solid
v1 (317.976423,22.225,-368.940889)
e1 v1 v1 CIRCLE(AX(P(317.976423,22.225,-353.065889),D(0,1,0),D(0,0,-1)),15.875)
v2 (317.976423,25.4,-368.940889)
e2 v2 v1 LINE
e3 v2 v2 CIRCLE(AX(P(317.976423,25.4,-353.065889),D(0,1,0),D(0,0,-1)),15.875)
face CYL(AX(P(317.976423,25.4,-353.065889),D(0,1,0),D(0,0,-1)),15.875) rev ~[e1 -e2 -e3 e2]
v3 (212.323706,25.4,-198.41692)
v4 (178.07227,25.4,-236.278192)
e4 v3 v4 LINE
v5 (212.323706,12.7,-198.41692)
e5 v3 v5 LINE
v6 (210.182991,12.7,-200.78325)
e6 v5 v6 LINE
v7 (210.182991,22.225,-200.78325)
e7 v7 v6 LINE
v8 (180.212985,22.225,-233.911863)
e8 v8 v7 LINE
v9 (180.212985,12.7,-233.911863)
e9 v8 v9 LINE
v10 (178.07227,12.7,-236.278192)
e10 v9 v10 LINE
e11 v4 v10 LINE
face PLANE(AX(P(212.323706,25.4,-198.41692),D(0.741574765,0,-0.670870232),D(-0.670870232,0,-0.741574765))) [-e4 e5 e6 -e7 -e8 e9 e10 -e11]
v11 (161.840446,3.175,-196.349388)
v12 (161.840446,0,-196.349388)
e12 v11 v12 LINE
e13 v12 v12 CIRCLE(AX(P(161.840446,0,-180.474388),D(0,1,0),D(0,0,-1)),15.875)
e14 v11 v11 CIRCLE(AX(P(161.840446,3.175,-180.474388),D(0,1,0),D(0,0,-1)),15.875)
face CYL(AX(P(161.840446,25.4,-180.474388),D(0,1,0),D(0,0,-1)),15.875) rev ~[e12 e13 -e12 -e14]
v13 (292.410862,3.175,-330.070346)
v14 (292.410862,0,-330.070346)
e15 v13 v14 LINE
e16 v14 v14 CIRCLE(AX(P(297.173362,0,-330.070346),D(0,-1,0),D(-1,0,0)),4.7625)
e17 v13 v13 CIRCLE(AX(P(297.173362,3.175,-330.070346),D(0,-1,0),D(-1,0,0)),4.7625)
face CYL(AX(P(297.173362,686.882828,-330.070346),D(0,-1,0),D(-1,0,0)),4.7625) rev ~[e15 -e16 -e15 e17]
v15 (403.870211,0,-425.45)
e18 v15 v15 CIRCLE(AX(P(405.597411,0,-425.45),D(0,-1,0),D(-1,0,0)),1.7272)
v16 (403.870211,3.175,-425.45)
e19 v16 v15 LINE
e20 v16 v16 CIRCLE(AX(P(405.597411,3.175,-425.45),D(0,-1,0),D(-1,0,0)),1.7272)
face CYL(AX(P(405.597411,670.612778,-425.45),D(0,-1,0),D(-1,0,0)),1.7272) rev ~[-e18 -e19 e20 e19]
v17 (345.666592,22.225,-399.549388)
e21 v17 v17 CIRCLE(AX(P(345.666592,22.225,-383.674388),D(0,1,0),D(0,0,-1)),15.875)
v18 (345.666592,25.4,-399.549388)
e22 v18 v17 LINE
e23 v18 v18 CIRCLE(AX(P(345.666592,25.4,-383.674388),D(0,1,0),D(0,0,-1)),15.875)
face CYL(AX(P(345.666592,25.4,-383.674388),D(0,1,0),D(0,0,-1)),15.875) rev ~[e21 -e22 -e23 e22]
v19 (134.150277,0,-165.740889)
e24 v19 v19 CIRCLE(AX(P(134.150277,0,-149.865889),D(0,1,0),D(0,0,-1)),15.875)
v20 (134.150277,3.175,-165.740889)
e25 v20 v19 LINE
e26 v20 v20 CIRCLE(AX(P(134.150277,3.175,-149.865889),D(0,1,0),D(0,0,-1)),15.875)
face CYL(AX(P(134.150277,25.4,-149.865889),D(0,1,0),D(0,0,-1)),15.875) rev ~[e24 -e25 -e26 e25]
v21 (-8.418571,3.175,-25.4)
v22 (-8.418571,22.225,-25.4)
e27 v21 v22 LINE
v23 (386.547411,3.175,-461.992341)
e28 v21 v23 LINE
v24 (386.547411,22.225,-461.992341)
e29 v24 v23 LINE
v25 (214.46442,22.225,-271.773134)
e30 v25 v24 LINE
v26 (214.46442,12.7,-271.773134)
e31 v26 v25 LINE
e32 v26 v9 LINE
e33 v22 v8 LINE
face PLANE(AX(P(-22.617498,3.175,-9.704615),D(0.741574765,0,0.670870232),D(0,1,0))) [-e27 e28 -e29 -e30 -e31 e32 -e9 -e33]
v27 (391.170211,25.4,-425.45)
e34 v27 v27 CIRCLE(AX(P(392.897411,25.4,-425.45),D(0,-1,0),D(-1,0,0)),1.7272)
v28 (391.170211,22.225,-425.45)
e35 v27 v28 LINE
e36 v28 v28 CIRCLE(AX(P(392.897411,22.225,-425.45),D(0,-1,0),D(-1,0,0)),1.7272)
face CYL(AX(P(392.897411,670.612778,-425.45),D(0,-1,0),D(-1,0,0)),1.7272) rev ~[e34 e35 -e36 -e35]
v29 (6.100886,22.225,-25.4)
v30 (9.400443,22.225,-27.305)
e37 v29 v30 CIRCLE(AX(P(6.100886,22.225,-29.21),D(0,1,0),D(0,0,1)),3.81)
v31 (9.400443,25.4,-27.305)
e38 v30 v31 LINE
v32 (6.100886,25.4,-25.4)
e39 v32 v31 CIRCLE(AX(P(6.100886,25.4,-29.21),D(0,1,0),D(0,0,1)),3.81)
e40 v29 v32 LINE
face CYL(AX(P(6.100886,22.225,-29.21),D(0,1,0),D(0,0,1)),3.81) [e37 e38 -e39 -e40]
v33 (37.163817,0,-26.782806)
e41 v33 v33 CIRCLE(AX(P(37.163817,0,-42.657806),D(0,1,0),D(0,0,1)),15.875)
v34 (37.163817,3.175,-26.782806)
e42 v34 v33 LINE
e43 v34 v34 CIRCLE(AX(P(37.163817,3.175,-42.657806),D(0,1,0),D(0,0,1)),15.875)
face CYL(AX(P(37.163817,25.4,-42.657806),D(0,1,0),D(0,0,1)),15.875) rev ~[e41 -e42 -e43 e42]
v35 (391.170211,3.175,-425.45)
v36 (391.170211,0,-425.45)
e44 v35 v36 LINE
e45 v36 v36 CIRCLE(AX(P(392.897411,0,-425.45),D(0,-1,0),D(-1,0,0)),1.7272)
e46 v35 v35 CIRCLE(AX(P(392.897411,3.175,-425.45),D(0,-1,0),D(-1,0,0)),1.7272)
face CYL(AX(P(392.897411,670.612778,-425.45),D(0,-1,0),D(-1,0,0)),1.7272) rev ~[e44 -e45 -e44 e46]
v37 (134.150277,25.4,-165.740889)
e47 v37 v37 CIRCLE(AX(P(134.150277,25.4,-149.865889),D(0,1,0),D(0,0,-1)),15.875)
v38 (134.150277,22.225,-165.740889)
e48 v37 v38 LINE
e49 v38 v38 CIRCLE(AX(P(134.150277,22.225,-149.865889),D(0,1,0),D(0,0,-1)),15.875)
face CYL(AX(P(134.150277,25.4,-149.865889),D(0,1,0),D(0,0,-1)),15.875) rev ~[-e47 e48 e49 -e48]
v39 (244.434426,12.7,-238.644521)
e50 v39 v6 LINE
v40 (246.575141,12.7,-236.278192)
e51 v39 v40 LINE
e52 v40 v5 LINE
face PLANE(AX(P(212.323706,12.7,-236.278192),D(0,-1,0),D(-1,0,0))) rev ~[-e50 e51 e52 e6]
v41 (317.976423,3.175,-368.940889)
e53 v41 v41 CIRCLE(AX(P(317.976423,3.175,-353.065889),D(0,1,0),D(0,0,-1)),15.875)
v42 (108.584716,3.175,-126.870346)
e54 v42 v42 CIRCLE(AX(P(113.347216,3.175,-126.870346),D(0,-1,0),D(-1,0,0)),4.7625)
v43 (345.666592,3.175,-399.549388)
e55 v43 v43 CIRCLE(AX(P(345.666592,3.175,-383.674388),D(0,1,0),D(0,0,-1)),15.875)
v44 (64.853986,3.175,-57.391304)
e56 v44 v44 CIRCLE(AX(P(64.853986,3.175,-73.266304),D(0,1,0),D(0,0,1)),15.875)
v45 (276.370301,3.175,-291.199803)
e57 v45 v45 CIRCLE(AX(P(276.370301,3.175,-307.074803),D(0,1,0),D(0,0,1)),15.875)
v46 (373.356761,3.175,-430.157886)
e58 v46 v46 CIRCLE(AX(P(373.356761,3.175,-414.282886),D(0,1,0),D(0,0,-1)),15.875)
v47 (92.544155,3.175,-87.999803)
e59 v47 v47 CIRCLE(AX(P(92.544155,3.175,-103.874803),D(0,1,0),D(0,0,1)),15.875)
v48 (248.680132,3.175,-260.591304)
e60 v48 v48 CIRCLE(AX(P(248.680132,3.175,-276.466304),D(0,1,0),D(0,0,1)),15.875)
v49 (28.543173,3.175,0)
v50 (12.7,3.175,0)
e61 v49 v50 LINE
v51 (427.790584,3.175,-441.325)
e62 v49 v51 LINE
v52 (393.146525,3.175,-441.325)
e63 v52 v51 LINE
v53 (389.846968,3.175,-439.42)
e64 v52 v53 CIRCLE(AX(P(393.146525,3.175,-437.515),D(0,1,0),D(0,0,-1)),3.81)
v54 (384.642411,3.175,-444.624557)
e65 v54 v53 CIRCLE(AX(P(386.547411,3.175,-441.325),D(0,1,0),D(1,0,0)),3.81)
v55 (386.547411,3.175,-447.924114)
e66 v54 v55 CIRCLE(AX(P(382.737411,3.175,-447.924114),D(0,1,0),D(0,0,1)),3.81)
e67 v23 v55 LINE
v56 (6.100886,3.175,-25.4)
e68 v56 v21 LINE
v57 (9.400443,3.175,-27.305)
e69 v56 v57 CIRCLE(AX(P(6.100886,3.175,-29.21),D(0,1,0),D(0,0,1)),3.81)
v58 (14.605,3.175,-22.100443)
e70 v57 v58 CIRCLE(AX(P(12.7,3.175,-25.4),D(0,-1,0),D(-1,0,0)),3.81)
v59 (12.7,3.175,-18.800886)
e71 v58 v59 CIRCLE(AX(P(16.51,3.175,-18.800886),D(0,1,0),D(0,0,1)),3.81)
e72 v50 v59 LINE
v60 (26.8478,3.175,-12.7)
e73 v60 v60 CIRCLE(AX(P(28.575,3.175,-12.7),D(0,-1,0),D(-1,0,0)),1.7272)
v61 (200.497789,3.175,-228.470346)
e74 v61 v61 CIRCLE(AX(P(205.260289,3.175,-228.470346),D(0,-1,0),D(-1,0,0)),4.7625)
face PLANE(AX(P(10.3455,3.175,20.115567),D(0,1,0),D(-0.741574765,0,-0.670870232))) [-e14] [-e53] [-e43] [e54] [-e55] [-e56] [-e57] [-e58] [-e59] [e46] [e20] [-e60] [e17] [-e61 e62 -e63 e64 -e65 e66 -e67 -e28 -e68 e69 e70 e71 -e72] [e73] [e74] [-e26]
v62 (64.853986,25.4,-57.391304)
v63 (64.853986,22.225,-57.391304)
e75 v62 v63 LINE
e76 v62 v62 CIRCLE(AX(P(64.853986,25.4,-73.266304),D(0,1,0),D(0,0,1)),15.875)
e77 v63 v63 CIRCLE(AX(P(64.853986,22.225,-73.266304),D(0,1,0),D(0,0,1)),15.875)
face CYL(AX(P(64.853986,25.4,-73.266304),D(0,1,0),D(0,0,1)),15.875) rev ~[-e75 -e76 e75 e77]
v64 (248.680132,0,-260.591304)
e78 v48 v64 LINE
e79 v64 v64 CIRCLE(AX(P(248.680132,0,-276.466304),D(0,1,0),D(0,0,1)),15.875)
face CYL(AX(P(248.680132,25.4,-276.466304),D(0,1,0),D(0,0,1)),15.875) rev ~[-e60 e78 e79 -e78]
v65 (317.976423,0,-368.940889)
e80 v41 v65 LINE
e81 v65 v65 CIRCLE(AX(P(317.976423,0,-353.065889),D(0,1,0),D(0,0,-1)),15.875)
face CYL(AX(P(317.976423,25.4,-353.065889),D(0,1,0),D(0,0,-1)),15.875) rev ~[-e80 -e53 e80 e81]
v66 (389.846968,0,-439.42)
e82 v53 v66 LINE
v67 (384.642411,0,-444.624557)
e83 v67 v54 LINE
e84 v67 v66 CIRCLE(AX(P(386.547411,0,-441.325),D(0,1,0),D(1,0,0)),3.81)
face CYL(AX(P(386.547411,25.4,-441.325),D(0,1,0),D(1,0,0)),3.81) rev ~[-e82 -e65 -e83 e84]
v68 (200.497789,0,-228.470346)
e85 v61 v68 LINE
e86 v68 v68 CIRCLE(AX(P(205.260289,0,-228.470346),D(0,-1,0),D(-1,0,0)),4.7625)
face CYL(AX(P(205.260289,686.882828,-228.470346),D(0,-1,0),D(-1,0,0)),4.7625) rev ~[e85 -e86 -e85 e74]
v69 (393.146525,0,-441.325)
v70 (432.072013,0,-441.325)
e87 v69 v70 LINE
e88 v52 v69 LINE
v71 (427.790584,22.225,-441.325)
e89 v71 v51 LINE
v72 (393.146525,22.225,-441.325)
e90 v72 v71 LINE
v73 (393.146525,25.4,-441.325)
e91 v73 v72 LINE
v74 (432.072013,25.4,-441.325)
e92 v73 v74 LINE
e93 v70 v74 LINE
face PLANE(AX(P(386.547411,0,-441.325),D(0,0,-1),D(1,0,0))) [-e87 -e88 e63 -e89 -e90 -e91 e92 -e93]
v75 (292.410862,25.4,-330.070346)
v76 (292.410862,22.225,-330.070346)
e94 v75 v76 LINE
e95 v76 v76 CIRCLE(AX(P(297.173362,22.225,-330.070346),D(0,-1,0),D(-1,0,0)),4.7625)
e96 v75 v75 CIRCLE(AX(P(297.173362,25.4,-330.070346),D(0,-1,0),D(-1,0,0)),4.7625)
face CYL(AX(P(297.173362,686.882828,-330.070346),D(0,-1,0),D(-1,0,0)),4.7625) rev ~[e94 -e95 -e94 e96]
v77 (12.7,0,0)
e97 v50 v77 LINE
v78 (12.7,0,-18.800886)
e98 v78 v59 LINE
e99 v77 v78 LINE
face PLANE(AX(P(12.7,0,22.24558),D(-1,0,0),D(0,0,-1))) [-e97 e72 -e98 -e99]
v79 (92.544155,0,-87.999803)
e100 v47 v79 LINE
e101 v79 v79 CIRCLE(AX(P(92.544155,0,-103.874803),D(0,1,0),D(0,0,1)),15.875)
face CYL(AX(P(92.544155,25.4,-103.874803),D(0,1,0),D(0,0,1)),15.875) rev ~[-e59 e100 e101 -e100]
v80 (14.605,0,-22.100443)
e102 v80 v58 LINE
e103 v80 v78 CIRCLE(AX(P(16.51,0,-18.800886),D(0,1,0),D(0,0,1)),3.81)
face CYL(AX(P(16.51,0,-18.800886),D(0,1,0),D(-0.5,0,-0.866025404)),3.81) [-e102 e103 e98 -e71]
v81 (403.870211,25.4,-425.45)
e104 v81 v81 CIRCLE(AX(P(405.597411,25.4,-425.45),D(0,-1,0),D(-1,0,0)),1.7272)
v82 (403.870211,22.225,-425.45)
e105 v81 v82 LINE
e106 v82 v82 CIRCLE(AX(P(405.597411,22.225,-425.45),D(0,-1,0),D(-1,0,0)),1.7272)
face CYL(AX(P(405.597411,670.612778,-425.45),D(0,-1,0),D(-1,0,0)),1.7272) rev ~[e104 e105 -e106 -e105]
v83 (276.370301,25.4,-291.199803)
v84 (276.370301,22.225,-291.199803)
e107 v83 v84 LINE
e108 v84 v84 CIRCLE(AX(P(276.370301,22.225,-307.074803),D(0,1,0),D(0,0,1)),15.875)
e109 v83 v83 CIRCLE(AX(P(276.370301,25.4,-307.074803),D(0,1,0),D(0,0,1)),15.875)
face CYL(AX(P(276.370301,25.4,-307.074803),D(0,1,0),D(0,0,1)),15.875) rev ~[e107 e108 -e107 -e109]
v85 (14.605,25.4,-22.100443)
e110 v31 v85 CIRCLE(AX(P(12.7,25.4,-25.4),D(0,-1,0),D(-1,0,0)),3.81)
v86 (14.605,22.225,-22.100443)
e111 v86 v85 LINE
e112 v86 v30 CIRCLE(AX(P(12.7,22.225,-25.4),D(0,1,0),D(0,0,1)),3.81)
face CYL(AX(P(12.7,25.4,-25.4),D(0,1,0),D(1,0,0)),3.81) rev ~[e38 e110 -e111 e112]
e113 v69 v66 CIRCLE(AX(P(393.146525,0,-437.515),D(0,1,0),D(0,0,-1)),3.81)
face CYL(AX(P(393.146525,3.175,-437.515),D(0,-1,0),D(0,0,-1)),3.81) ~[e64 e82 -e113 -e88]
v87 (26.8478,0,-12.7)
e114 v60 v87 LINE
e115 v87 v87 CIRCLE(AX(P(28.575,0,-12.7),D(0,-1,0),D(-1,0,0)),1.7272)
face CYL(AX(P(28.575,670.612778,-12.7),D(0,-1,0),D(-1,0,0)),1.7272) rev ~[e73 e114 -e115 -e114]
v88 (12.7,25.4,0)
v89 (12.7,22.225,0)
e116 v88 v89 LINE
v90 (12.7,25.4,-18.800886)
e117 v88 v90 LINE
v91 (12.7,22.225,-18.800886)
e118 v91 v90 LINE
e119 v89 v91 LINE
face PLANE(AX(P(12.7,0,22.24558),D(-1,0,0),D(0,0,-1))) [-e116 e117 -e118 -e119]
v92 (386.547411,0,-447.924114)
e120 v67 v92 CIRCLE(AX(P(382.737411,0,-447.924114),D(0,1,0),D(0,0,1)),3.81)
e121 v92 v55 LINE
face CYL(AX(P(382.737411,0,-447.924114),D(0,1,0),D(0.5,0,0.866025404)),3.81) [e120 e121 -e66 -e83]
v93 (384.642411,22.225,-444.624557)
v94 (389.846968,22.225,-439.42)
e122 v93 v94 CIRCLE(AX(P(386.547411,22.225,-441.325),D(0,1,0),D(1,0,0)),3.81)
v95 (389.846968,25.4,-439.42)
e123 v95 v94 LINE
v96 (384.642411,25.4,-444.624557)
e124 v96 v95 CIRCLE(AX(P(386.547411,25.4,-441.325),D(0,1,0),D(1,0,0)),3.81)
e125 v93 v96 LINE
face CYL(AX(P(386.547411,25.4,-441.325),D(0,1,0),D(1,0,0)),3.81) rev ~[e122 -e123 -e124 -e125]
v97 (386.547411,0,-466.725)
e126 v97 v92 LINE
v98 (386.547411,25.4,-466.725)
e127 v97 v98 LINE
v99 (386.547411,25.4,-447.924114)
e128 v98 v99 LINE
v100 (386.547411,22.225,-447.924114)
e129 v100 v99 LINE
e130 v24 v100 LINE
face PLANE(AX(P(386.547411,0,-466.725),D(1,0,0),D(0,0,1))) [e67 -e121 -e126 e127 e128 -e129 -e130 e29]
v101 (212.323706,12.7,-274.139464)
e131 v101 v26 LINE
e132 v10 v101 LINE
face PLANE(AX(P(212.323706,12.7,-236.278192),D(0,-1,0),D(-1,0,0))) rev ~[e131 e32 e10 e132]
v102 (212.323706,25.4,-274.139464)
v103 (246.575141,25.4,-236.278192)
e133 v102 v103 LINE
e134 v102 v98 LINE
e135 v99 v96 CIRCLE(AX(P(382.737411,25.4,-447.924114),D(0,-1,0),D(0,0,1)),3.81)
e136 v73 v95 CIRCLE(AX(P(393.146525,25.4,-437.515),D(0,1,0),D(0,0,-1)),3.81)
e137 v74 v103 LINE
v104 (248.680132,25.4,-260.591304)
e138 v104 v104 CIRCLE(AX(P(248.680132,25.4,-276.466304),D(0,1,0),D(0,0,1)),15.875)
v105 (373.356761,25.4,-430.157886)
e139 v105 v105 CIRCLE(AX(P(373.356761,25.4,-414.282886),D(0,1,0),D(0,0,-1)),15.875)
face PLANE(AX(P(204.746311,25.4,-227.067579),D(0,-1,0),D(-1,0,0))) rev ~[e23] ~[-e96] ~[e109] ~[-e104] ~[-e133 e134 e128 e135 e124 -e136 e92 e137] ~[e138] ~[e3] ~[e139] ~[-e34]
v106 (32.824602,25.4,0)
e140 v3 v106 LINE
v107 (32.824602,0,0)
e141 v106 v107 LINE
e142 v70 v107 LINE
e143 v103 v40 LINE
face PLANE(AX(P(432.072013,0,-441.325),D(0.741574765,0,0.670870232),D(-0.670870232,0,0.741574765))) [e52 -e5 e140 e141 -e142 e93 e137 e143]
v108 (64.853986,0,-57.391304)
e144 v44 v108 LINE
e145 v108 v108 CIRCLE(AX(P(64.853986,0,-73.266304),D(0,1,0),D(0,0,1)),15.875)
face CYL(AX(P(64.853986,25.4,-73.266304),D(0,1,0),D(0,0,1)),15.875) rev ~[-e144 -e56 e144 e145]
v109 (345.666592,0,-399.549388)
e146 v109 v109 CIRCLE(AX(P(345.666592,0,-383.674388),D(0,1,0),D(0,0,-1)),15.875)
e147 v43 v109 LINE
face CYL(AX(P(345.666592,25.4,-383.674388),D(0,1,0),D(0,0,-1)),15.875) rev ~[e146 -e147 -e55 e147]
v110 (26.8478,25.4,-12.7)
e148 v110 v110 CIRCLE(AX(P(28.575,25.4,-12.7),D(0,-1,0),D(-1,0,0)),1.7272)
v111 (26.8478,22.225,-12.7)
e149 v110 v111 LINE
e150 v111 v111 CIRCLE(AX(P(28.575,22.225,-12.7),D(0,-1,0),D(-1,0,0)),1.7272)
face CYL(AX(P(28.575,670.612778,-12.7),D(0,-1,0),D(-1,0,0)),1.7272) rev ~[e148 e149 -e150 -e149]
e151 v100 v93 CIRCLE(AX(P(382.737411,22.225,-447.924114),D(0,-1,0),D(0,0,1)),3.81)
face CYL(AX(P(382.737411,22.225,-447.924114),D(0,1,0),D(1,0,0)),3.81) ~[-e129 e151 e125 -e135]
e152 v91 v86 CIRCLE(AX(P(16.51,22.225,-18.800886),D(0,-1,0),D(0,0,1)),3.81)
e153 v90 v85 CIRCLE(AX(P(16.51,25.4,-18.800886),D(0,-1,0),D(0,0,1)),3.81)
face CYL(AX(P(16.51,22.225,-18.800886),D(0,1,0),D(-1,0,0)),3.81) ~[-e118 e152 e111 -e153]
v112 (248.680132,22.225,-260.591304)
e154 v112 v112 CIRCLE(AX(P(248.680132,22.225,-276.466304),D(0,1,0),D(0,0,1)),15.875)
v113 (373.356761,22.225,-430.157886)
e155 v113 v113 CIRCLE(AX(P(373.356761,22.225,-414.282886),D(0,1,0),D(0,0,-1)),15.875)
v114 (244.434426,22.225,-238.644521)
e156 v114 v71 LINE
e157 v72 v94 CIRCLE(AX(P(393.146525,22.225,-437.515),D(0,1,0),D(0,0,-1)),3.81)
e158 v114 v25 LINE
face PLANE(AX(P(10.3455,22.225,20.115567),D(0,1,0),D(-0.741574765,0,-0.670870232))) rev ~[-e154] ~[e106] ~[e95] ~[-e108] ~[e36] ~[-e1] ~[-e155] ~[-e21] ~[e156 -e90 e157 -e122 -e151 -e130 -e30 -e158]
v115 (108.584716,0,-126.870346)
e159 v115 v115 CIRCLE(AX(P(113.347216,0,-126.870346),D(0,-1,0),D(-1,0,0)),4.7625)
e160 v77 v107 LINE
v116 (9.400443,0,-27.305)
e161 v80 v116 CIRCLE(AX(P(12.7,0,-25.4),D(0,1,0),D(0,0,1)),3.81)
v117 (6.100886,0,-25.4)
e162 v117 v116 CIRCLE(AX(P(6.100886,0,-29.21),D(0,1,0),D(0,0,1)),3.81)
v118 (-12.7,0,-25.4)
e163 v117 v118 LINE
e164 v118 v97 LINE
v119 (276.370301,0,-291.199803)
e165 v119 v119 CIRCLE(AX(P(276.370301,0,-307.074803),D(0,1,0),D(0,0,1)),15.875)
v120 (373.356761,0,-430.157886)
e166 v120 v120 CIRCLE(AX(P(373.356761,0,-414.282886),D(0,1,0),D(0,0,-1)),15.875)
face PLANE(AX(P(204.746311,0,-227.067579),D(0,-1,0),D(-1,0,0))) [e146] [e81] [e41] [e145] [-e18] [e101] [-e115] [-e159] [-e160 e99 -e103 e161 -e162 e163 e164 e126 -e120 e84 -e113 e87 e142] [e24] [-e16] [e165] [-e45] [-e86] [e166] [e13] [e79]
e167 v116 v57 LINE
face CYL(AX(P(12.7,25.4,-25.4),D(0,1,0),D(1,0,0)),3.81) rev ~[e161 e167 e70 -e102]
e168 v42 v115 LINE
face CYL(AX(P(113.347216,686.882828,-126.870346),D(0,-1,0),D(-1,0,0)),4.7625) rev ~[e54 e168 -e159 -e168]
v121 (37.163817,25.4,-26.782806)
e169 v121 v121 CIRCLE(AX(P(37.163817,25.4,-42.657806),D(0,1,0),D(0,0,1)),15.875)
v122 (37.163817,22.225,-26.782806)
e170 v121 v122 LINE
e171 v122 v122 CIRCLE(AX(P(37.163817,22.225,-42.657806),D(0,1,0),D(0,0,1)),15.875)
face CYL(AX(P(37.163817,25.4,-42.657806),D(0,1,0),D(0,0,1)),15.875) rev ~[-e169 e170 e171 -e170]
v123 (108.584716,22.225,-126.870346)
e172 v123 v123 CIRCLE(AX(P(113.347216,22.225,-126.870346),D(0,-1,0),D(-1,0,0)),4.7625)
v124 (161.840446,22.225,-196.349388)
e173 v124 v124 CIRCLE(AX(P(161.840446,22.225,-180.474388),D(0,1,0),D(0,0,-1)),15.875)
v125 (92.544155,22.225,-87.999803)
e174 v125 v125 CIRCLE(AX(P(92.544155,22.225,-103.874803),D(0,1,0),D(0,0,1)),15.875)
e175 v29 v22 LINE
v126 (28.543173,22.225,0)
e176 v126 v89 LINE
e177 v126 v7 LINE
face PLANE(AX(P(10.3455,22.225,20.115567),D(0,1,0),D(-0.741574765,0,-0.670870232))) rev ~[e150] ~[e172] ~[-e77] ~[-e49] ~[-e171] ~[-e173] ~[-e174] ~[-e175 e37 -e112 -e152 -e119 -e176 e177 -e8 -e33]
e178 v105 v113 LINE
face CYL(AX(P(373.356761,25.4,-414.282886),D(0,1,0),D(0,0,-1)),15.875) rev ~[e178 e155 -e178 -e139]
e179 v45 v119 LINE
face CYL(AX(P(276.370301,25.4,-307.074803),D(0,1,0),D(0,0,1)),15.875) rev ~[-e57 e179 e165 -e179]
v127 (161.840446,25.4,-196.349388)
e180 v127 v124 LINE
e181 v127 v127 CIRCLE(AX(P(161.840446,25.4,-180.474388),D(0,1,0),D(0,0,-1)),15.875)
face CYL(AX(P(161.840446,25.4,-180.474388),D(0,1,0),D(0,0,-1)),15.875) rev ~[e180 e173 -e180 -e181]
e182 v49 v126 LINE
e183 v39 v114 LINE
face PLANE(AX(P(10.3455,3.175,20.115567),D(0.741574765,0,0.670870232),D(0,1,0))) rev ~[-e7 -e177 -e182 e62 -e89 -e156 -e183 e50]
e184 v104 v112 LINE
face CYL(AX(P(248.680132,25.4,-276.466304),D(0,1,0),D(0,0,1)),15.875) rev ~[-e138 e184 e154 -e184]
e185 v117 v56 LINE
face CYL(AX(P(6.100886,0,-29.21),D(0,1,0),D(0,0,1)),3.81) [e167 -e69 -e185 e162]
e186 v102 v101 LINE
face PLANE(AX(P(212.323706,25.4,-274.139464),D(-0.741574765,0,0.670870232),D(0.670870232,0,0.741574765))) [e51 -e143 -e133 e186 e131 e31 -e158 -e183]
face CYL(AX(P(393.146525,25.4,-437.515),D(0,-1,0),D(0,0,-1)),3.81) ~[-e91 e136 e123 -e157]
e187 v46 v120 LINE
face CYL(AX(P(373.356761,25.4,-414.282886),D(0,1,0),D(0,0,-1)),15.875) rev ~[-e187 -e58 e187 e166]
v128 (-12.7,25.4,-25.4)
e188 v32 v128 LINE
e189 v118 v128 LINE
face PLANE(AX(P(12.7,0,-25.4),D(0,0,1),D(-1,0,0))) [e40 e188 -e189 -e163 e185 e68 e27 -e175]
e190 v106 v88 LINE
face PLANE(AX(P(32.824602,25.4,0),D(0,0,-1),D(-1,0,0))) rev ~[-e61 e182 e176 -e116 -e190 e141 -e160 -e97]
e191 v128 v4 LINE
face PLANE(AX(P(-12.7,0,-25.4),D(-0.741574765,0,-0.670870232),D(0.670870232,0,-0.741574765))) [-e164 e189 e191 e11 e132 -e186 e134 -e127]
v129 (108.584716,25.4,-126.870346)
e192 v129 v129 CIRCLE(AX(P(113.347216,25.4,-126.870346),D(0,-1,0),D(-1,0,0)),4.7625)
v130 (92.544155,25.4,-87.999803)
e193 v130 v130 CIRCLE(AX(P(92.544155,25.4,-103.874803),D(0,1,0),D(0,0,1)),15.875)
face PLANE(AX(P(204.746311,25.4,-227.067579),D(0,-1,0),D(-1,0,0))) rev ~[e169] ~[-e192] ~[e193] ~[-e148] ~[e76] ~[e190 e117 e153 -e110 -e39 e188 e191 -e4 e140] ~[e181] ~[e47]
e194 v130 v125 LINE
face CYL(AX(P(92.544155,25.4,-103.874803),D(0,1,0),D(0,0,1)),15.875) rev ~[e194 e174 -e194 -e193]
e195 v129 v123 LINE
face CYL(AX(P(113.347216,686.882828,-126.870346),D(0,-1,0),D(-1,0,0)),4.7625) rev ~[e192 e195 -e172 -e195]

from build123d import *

# Parameters (mm, degrees)
BOSS_EXTRUDE1_DEPTH          = 25.4
CUT_EXTRUDE1_DEPTH           = 12.7
SKETCH3_W                    = 44.450000002
SKETCH3_H                    = 19.05
CUT_EXTRUDE2_DEPTH           = 645.494549375
F_3_8_0_375_DIAMETER_HOLE1_D = 9.525
CUT_EXTRUDE3_DEPTH           = 637.52463446
F_8_32_TAPPED_HOLE1_D        = 3.4544
SKETCH9_R                    = 3.81
CUT_EXTRUDE4_DEPTH           = 637.52463446
FILLET1_R                    = 3.81
F_8_32_TAPPED_HOLE2_D        = 3.4544
SKETCH12_R                   = 15.875000001
CUT_EXTRUDE5_DEPTH           = 637.52463446


with BuildPart() as part:
    # Sketch1 → Boss-Extrude1 (new body)
    with BuildSketch(Plane(origin=(0, 0, 0), x_dir=(1, 0, 0), z_dir=(0, 1, 0))):
        Polygon((386.547411153, 441.325), (432.072013268, 441.325), (12.7, -22.245579509), (12.7, 25.4), (-12.7, 25.4), (386.547411153, 466.725), align=None)
    extrude(amount=BOSS_EXTRUDE1_DEPTH)

    # Sketch2 → Cut-Extrude1 (cut)
    with BuildSketch(Plane(origin=(0, 25.4, 0), x_dir=(1, 0, 0), z_dir=(0, 1, 0))):
        Polygon((212.323705576, 274.139463524), (246.575140768, 236.278192008), (212.323705576, 198.416920491), (178.072270385, 236.278192008), align=None)
    extrude(amount=-CUT_EXTRUDE1_DEPTH, mode=Mode.SUBTRACT)

    # Sketch3 → Cut-Extrude2 (cut, through all)
    with BuildSketch(Plane(origin=(-5.351336248, 0, 5.915325694), x_dir=(-0.7415747649396567, 0, -0.6708702318665609), z_dir=(0.6708702318665609, 0, -0.7415747649396567))):
        with Locations((1.058103403, 12.7)):
            Rectangle(SKETCH3_W, SKETCH3_H)
    extrude(amount=CUT_EXTRUDE2_DEPTH, mode=Mode.SUBTRACT)

    # 3/8 (0.375) Diameter Hole1 (through all)
    with Locations(Plane(origin=(0, 25.4, 0), x_dir=(1, 0, 0), z_dir=(0, 1, 0))):
        with Locations((113.347215967, 126.870346004), (297.173362109, 330.070346004), (205.260289038, 228.470346004)):
            Hole(F_3_8_0_375_DIAMETER_HOLE1_D / 2)

    # Sketch6 → Cut-Extrude3 (cut, through all)
    with BuildSketch(Plane(origin=(0, 25.4, 0), x_dir=(1, 0, 0), z_dir=(0, 1, 0))):
        Polygon((12.7, -22.245579509), (32.824602115, 0), (12.7, 0), align=None)
    extrude(amount=-CUT_EXTRUDE3_DEPTH, mode=Mode.SUBTRACT)

    # #8-32 Tapped Hole1 (through all)
    with Locations(Plane(origin=(0, 25.4, 0), x_dir=(1, 0, 0), z_dir=(0, 1, 0))):
        with Locations((28.575, 12.7)):
            Hole(F_8_32_TAPPED_HOLE1_D / 2)

    # Sketch9 → Cut-Extrude4 (cut, through all)
    with BuildSketch(Plane(origin=(0, 25.4, 0), x_dir=(1, 0, 0), z_dir=(0, 1, 0))):
        with Locations((12.7, 25.4)):
            Circle(SKETCH9_R)
        with Locations((386.547411153, 441.325)):
            Circle(SKETCH9_R)
    extrude(amount=-CUT_EXTRUDE4_DEPTH, mode=Mode.SUBTRACT)

    # Fillet1
    fillet1_edges = [part.edges().sort_by_distance(p)[0] for p in [
        (12.7, 1.5875, -21.59),
        (12.7, 23.8125, -21.59),
        (8.89, 1.5875, -25.4),
        (8.89, 23.8125, -25.4),
        (390.357411153, 23.8125, -441.325),
        (390.357411153, 1.5875, -441.325),
        (386.547411153, 1.5875, -445.135),
        (386.547411153, 23.8125, -445.135),
    ]]
    fillet(fillet1_edges, radius=FILLET1_R)

    # #8-32 Tapped Hole2 (through all)
    with Locations(Plane(origin=(0, 25.4, 0), x_dir=(1, 0, 0), z_dir=(0, 1, 0))):
        with Locations((392.897411153, 425.45), (405.597411153, 425.45)):
            Hole(F_8_32_TAPPED_HOLE2_D / 2)

    # Sketch12 → Cut-Extrude5 (cut, through all)
    with BuildSketch(Plane(origin=(0, 25.4, 0), x_dir=(1, 0, 0), z_dir=(0, 1, 0))):
        with Locations((37.163816951, 42.657806031)):
            Circle(SKETCH12_R)
        with Locations((64.853985771, 73.266304454)):
            Circle(SKETCH12_R)
        with Locations((92.544154592, 103.874802877)):
            Circle(SKETCH12_R)
        with Locations((134.150277343, 149.865889131)):
            Circle(SKETCH12_R)
        with Locations((161.840446163, 180.474387554)):
            Circle(SKETCH12_R)
        with Locations((373.356761126, 414.282885977)):
            Circle(SKETCH12_R)
        with Locations((345.666592305, 383.674387554)):
            Circle(SKETCH12_R)
        with Locations((317.976423485, 353.065889131)):
            Circle(SKETCH12_R)
        with Locations((248.680131914, 276.466304454)):
            Circle(SKETCH12_R)
        with Locations((276.370300734, 307.074802877)):
            Circle(SKETCH12_R)
    extrude(amount=-CUT_EXTRUDE5_DEPTH, mode=Mode.SUBTRACT)


solid = part.part
